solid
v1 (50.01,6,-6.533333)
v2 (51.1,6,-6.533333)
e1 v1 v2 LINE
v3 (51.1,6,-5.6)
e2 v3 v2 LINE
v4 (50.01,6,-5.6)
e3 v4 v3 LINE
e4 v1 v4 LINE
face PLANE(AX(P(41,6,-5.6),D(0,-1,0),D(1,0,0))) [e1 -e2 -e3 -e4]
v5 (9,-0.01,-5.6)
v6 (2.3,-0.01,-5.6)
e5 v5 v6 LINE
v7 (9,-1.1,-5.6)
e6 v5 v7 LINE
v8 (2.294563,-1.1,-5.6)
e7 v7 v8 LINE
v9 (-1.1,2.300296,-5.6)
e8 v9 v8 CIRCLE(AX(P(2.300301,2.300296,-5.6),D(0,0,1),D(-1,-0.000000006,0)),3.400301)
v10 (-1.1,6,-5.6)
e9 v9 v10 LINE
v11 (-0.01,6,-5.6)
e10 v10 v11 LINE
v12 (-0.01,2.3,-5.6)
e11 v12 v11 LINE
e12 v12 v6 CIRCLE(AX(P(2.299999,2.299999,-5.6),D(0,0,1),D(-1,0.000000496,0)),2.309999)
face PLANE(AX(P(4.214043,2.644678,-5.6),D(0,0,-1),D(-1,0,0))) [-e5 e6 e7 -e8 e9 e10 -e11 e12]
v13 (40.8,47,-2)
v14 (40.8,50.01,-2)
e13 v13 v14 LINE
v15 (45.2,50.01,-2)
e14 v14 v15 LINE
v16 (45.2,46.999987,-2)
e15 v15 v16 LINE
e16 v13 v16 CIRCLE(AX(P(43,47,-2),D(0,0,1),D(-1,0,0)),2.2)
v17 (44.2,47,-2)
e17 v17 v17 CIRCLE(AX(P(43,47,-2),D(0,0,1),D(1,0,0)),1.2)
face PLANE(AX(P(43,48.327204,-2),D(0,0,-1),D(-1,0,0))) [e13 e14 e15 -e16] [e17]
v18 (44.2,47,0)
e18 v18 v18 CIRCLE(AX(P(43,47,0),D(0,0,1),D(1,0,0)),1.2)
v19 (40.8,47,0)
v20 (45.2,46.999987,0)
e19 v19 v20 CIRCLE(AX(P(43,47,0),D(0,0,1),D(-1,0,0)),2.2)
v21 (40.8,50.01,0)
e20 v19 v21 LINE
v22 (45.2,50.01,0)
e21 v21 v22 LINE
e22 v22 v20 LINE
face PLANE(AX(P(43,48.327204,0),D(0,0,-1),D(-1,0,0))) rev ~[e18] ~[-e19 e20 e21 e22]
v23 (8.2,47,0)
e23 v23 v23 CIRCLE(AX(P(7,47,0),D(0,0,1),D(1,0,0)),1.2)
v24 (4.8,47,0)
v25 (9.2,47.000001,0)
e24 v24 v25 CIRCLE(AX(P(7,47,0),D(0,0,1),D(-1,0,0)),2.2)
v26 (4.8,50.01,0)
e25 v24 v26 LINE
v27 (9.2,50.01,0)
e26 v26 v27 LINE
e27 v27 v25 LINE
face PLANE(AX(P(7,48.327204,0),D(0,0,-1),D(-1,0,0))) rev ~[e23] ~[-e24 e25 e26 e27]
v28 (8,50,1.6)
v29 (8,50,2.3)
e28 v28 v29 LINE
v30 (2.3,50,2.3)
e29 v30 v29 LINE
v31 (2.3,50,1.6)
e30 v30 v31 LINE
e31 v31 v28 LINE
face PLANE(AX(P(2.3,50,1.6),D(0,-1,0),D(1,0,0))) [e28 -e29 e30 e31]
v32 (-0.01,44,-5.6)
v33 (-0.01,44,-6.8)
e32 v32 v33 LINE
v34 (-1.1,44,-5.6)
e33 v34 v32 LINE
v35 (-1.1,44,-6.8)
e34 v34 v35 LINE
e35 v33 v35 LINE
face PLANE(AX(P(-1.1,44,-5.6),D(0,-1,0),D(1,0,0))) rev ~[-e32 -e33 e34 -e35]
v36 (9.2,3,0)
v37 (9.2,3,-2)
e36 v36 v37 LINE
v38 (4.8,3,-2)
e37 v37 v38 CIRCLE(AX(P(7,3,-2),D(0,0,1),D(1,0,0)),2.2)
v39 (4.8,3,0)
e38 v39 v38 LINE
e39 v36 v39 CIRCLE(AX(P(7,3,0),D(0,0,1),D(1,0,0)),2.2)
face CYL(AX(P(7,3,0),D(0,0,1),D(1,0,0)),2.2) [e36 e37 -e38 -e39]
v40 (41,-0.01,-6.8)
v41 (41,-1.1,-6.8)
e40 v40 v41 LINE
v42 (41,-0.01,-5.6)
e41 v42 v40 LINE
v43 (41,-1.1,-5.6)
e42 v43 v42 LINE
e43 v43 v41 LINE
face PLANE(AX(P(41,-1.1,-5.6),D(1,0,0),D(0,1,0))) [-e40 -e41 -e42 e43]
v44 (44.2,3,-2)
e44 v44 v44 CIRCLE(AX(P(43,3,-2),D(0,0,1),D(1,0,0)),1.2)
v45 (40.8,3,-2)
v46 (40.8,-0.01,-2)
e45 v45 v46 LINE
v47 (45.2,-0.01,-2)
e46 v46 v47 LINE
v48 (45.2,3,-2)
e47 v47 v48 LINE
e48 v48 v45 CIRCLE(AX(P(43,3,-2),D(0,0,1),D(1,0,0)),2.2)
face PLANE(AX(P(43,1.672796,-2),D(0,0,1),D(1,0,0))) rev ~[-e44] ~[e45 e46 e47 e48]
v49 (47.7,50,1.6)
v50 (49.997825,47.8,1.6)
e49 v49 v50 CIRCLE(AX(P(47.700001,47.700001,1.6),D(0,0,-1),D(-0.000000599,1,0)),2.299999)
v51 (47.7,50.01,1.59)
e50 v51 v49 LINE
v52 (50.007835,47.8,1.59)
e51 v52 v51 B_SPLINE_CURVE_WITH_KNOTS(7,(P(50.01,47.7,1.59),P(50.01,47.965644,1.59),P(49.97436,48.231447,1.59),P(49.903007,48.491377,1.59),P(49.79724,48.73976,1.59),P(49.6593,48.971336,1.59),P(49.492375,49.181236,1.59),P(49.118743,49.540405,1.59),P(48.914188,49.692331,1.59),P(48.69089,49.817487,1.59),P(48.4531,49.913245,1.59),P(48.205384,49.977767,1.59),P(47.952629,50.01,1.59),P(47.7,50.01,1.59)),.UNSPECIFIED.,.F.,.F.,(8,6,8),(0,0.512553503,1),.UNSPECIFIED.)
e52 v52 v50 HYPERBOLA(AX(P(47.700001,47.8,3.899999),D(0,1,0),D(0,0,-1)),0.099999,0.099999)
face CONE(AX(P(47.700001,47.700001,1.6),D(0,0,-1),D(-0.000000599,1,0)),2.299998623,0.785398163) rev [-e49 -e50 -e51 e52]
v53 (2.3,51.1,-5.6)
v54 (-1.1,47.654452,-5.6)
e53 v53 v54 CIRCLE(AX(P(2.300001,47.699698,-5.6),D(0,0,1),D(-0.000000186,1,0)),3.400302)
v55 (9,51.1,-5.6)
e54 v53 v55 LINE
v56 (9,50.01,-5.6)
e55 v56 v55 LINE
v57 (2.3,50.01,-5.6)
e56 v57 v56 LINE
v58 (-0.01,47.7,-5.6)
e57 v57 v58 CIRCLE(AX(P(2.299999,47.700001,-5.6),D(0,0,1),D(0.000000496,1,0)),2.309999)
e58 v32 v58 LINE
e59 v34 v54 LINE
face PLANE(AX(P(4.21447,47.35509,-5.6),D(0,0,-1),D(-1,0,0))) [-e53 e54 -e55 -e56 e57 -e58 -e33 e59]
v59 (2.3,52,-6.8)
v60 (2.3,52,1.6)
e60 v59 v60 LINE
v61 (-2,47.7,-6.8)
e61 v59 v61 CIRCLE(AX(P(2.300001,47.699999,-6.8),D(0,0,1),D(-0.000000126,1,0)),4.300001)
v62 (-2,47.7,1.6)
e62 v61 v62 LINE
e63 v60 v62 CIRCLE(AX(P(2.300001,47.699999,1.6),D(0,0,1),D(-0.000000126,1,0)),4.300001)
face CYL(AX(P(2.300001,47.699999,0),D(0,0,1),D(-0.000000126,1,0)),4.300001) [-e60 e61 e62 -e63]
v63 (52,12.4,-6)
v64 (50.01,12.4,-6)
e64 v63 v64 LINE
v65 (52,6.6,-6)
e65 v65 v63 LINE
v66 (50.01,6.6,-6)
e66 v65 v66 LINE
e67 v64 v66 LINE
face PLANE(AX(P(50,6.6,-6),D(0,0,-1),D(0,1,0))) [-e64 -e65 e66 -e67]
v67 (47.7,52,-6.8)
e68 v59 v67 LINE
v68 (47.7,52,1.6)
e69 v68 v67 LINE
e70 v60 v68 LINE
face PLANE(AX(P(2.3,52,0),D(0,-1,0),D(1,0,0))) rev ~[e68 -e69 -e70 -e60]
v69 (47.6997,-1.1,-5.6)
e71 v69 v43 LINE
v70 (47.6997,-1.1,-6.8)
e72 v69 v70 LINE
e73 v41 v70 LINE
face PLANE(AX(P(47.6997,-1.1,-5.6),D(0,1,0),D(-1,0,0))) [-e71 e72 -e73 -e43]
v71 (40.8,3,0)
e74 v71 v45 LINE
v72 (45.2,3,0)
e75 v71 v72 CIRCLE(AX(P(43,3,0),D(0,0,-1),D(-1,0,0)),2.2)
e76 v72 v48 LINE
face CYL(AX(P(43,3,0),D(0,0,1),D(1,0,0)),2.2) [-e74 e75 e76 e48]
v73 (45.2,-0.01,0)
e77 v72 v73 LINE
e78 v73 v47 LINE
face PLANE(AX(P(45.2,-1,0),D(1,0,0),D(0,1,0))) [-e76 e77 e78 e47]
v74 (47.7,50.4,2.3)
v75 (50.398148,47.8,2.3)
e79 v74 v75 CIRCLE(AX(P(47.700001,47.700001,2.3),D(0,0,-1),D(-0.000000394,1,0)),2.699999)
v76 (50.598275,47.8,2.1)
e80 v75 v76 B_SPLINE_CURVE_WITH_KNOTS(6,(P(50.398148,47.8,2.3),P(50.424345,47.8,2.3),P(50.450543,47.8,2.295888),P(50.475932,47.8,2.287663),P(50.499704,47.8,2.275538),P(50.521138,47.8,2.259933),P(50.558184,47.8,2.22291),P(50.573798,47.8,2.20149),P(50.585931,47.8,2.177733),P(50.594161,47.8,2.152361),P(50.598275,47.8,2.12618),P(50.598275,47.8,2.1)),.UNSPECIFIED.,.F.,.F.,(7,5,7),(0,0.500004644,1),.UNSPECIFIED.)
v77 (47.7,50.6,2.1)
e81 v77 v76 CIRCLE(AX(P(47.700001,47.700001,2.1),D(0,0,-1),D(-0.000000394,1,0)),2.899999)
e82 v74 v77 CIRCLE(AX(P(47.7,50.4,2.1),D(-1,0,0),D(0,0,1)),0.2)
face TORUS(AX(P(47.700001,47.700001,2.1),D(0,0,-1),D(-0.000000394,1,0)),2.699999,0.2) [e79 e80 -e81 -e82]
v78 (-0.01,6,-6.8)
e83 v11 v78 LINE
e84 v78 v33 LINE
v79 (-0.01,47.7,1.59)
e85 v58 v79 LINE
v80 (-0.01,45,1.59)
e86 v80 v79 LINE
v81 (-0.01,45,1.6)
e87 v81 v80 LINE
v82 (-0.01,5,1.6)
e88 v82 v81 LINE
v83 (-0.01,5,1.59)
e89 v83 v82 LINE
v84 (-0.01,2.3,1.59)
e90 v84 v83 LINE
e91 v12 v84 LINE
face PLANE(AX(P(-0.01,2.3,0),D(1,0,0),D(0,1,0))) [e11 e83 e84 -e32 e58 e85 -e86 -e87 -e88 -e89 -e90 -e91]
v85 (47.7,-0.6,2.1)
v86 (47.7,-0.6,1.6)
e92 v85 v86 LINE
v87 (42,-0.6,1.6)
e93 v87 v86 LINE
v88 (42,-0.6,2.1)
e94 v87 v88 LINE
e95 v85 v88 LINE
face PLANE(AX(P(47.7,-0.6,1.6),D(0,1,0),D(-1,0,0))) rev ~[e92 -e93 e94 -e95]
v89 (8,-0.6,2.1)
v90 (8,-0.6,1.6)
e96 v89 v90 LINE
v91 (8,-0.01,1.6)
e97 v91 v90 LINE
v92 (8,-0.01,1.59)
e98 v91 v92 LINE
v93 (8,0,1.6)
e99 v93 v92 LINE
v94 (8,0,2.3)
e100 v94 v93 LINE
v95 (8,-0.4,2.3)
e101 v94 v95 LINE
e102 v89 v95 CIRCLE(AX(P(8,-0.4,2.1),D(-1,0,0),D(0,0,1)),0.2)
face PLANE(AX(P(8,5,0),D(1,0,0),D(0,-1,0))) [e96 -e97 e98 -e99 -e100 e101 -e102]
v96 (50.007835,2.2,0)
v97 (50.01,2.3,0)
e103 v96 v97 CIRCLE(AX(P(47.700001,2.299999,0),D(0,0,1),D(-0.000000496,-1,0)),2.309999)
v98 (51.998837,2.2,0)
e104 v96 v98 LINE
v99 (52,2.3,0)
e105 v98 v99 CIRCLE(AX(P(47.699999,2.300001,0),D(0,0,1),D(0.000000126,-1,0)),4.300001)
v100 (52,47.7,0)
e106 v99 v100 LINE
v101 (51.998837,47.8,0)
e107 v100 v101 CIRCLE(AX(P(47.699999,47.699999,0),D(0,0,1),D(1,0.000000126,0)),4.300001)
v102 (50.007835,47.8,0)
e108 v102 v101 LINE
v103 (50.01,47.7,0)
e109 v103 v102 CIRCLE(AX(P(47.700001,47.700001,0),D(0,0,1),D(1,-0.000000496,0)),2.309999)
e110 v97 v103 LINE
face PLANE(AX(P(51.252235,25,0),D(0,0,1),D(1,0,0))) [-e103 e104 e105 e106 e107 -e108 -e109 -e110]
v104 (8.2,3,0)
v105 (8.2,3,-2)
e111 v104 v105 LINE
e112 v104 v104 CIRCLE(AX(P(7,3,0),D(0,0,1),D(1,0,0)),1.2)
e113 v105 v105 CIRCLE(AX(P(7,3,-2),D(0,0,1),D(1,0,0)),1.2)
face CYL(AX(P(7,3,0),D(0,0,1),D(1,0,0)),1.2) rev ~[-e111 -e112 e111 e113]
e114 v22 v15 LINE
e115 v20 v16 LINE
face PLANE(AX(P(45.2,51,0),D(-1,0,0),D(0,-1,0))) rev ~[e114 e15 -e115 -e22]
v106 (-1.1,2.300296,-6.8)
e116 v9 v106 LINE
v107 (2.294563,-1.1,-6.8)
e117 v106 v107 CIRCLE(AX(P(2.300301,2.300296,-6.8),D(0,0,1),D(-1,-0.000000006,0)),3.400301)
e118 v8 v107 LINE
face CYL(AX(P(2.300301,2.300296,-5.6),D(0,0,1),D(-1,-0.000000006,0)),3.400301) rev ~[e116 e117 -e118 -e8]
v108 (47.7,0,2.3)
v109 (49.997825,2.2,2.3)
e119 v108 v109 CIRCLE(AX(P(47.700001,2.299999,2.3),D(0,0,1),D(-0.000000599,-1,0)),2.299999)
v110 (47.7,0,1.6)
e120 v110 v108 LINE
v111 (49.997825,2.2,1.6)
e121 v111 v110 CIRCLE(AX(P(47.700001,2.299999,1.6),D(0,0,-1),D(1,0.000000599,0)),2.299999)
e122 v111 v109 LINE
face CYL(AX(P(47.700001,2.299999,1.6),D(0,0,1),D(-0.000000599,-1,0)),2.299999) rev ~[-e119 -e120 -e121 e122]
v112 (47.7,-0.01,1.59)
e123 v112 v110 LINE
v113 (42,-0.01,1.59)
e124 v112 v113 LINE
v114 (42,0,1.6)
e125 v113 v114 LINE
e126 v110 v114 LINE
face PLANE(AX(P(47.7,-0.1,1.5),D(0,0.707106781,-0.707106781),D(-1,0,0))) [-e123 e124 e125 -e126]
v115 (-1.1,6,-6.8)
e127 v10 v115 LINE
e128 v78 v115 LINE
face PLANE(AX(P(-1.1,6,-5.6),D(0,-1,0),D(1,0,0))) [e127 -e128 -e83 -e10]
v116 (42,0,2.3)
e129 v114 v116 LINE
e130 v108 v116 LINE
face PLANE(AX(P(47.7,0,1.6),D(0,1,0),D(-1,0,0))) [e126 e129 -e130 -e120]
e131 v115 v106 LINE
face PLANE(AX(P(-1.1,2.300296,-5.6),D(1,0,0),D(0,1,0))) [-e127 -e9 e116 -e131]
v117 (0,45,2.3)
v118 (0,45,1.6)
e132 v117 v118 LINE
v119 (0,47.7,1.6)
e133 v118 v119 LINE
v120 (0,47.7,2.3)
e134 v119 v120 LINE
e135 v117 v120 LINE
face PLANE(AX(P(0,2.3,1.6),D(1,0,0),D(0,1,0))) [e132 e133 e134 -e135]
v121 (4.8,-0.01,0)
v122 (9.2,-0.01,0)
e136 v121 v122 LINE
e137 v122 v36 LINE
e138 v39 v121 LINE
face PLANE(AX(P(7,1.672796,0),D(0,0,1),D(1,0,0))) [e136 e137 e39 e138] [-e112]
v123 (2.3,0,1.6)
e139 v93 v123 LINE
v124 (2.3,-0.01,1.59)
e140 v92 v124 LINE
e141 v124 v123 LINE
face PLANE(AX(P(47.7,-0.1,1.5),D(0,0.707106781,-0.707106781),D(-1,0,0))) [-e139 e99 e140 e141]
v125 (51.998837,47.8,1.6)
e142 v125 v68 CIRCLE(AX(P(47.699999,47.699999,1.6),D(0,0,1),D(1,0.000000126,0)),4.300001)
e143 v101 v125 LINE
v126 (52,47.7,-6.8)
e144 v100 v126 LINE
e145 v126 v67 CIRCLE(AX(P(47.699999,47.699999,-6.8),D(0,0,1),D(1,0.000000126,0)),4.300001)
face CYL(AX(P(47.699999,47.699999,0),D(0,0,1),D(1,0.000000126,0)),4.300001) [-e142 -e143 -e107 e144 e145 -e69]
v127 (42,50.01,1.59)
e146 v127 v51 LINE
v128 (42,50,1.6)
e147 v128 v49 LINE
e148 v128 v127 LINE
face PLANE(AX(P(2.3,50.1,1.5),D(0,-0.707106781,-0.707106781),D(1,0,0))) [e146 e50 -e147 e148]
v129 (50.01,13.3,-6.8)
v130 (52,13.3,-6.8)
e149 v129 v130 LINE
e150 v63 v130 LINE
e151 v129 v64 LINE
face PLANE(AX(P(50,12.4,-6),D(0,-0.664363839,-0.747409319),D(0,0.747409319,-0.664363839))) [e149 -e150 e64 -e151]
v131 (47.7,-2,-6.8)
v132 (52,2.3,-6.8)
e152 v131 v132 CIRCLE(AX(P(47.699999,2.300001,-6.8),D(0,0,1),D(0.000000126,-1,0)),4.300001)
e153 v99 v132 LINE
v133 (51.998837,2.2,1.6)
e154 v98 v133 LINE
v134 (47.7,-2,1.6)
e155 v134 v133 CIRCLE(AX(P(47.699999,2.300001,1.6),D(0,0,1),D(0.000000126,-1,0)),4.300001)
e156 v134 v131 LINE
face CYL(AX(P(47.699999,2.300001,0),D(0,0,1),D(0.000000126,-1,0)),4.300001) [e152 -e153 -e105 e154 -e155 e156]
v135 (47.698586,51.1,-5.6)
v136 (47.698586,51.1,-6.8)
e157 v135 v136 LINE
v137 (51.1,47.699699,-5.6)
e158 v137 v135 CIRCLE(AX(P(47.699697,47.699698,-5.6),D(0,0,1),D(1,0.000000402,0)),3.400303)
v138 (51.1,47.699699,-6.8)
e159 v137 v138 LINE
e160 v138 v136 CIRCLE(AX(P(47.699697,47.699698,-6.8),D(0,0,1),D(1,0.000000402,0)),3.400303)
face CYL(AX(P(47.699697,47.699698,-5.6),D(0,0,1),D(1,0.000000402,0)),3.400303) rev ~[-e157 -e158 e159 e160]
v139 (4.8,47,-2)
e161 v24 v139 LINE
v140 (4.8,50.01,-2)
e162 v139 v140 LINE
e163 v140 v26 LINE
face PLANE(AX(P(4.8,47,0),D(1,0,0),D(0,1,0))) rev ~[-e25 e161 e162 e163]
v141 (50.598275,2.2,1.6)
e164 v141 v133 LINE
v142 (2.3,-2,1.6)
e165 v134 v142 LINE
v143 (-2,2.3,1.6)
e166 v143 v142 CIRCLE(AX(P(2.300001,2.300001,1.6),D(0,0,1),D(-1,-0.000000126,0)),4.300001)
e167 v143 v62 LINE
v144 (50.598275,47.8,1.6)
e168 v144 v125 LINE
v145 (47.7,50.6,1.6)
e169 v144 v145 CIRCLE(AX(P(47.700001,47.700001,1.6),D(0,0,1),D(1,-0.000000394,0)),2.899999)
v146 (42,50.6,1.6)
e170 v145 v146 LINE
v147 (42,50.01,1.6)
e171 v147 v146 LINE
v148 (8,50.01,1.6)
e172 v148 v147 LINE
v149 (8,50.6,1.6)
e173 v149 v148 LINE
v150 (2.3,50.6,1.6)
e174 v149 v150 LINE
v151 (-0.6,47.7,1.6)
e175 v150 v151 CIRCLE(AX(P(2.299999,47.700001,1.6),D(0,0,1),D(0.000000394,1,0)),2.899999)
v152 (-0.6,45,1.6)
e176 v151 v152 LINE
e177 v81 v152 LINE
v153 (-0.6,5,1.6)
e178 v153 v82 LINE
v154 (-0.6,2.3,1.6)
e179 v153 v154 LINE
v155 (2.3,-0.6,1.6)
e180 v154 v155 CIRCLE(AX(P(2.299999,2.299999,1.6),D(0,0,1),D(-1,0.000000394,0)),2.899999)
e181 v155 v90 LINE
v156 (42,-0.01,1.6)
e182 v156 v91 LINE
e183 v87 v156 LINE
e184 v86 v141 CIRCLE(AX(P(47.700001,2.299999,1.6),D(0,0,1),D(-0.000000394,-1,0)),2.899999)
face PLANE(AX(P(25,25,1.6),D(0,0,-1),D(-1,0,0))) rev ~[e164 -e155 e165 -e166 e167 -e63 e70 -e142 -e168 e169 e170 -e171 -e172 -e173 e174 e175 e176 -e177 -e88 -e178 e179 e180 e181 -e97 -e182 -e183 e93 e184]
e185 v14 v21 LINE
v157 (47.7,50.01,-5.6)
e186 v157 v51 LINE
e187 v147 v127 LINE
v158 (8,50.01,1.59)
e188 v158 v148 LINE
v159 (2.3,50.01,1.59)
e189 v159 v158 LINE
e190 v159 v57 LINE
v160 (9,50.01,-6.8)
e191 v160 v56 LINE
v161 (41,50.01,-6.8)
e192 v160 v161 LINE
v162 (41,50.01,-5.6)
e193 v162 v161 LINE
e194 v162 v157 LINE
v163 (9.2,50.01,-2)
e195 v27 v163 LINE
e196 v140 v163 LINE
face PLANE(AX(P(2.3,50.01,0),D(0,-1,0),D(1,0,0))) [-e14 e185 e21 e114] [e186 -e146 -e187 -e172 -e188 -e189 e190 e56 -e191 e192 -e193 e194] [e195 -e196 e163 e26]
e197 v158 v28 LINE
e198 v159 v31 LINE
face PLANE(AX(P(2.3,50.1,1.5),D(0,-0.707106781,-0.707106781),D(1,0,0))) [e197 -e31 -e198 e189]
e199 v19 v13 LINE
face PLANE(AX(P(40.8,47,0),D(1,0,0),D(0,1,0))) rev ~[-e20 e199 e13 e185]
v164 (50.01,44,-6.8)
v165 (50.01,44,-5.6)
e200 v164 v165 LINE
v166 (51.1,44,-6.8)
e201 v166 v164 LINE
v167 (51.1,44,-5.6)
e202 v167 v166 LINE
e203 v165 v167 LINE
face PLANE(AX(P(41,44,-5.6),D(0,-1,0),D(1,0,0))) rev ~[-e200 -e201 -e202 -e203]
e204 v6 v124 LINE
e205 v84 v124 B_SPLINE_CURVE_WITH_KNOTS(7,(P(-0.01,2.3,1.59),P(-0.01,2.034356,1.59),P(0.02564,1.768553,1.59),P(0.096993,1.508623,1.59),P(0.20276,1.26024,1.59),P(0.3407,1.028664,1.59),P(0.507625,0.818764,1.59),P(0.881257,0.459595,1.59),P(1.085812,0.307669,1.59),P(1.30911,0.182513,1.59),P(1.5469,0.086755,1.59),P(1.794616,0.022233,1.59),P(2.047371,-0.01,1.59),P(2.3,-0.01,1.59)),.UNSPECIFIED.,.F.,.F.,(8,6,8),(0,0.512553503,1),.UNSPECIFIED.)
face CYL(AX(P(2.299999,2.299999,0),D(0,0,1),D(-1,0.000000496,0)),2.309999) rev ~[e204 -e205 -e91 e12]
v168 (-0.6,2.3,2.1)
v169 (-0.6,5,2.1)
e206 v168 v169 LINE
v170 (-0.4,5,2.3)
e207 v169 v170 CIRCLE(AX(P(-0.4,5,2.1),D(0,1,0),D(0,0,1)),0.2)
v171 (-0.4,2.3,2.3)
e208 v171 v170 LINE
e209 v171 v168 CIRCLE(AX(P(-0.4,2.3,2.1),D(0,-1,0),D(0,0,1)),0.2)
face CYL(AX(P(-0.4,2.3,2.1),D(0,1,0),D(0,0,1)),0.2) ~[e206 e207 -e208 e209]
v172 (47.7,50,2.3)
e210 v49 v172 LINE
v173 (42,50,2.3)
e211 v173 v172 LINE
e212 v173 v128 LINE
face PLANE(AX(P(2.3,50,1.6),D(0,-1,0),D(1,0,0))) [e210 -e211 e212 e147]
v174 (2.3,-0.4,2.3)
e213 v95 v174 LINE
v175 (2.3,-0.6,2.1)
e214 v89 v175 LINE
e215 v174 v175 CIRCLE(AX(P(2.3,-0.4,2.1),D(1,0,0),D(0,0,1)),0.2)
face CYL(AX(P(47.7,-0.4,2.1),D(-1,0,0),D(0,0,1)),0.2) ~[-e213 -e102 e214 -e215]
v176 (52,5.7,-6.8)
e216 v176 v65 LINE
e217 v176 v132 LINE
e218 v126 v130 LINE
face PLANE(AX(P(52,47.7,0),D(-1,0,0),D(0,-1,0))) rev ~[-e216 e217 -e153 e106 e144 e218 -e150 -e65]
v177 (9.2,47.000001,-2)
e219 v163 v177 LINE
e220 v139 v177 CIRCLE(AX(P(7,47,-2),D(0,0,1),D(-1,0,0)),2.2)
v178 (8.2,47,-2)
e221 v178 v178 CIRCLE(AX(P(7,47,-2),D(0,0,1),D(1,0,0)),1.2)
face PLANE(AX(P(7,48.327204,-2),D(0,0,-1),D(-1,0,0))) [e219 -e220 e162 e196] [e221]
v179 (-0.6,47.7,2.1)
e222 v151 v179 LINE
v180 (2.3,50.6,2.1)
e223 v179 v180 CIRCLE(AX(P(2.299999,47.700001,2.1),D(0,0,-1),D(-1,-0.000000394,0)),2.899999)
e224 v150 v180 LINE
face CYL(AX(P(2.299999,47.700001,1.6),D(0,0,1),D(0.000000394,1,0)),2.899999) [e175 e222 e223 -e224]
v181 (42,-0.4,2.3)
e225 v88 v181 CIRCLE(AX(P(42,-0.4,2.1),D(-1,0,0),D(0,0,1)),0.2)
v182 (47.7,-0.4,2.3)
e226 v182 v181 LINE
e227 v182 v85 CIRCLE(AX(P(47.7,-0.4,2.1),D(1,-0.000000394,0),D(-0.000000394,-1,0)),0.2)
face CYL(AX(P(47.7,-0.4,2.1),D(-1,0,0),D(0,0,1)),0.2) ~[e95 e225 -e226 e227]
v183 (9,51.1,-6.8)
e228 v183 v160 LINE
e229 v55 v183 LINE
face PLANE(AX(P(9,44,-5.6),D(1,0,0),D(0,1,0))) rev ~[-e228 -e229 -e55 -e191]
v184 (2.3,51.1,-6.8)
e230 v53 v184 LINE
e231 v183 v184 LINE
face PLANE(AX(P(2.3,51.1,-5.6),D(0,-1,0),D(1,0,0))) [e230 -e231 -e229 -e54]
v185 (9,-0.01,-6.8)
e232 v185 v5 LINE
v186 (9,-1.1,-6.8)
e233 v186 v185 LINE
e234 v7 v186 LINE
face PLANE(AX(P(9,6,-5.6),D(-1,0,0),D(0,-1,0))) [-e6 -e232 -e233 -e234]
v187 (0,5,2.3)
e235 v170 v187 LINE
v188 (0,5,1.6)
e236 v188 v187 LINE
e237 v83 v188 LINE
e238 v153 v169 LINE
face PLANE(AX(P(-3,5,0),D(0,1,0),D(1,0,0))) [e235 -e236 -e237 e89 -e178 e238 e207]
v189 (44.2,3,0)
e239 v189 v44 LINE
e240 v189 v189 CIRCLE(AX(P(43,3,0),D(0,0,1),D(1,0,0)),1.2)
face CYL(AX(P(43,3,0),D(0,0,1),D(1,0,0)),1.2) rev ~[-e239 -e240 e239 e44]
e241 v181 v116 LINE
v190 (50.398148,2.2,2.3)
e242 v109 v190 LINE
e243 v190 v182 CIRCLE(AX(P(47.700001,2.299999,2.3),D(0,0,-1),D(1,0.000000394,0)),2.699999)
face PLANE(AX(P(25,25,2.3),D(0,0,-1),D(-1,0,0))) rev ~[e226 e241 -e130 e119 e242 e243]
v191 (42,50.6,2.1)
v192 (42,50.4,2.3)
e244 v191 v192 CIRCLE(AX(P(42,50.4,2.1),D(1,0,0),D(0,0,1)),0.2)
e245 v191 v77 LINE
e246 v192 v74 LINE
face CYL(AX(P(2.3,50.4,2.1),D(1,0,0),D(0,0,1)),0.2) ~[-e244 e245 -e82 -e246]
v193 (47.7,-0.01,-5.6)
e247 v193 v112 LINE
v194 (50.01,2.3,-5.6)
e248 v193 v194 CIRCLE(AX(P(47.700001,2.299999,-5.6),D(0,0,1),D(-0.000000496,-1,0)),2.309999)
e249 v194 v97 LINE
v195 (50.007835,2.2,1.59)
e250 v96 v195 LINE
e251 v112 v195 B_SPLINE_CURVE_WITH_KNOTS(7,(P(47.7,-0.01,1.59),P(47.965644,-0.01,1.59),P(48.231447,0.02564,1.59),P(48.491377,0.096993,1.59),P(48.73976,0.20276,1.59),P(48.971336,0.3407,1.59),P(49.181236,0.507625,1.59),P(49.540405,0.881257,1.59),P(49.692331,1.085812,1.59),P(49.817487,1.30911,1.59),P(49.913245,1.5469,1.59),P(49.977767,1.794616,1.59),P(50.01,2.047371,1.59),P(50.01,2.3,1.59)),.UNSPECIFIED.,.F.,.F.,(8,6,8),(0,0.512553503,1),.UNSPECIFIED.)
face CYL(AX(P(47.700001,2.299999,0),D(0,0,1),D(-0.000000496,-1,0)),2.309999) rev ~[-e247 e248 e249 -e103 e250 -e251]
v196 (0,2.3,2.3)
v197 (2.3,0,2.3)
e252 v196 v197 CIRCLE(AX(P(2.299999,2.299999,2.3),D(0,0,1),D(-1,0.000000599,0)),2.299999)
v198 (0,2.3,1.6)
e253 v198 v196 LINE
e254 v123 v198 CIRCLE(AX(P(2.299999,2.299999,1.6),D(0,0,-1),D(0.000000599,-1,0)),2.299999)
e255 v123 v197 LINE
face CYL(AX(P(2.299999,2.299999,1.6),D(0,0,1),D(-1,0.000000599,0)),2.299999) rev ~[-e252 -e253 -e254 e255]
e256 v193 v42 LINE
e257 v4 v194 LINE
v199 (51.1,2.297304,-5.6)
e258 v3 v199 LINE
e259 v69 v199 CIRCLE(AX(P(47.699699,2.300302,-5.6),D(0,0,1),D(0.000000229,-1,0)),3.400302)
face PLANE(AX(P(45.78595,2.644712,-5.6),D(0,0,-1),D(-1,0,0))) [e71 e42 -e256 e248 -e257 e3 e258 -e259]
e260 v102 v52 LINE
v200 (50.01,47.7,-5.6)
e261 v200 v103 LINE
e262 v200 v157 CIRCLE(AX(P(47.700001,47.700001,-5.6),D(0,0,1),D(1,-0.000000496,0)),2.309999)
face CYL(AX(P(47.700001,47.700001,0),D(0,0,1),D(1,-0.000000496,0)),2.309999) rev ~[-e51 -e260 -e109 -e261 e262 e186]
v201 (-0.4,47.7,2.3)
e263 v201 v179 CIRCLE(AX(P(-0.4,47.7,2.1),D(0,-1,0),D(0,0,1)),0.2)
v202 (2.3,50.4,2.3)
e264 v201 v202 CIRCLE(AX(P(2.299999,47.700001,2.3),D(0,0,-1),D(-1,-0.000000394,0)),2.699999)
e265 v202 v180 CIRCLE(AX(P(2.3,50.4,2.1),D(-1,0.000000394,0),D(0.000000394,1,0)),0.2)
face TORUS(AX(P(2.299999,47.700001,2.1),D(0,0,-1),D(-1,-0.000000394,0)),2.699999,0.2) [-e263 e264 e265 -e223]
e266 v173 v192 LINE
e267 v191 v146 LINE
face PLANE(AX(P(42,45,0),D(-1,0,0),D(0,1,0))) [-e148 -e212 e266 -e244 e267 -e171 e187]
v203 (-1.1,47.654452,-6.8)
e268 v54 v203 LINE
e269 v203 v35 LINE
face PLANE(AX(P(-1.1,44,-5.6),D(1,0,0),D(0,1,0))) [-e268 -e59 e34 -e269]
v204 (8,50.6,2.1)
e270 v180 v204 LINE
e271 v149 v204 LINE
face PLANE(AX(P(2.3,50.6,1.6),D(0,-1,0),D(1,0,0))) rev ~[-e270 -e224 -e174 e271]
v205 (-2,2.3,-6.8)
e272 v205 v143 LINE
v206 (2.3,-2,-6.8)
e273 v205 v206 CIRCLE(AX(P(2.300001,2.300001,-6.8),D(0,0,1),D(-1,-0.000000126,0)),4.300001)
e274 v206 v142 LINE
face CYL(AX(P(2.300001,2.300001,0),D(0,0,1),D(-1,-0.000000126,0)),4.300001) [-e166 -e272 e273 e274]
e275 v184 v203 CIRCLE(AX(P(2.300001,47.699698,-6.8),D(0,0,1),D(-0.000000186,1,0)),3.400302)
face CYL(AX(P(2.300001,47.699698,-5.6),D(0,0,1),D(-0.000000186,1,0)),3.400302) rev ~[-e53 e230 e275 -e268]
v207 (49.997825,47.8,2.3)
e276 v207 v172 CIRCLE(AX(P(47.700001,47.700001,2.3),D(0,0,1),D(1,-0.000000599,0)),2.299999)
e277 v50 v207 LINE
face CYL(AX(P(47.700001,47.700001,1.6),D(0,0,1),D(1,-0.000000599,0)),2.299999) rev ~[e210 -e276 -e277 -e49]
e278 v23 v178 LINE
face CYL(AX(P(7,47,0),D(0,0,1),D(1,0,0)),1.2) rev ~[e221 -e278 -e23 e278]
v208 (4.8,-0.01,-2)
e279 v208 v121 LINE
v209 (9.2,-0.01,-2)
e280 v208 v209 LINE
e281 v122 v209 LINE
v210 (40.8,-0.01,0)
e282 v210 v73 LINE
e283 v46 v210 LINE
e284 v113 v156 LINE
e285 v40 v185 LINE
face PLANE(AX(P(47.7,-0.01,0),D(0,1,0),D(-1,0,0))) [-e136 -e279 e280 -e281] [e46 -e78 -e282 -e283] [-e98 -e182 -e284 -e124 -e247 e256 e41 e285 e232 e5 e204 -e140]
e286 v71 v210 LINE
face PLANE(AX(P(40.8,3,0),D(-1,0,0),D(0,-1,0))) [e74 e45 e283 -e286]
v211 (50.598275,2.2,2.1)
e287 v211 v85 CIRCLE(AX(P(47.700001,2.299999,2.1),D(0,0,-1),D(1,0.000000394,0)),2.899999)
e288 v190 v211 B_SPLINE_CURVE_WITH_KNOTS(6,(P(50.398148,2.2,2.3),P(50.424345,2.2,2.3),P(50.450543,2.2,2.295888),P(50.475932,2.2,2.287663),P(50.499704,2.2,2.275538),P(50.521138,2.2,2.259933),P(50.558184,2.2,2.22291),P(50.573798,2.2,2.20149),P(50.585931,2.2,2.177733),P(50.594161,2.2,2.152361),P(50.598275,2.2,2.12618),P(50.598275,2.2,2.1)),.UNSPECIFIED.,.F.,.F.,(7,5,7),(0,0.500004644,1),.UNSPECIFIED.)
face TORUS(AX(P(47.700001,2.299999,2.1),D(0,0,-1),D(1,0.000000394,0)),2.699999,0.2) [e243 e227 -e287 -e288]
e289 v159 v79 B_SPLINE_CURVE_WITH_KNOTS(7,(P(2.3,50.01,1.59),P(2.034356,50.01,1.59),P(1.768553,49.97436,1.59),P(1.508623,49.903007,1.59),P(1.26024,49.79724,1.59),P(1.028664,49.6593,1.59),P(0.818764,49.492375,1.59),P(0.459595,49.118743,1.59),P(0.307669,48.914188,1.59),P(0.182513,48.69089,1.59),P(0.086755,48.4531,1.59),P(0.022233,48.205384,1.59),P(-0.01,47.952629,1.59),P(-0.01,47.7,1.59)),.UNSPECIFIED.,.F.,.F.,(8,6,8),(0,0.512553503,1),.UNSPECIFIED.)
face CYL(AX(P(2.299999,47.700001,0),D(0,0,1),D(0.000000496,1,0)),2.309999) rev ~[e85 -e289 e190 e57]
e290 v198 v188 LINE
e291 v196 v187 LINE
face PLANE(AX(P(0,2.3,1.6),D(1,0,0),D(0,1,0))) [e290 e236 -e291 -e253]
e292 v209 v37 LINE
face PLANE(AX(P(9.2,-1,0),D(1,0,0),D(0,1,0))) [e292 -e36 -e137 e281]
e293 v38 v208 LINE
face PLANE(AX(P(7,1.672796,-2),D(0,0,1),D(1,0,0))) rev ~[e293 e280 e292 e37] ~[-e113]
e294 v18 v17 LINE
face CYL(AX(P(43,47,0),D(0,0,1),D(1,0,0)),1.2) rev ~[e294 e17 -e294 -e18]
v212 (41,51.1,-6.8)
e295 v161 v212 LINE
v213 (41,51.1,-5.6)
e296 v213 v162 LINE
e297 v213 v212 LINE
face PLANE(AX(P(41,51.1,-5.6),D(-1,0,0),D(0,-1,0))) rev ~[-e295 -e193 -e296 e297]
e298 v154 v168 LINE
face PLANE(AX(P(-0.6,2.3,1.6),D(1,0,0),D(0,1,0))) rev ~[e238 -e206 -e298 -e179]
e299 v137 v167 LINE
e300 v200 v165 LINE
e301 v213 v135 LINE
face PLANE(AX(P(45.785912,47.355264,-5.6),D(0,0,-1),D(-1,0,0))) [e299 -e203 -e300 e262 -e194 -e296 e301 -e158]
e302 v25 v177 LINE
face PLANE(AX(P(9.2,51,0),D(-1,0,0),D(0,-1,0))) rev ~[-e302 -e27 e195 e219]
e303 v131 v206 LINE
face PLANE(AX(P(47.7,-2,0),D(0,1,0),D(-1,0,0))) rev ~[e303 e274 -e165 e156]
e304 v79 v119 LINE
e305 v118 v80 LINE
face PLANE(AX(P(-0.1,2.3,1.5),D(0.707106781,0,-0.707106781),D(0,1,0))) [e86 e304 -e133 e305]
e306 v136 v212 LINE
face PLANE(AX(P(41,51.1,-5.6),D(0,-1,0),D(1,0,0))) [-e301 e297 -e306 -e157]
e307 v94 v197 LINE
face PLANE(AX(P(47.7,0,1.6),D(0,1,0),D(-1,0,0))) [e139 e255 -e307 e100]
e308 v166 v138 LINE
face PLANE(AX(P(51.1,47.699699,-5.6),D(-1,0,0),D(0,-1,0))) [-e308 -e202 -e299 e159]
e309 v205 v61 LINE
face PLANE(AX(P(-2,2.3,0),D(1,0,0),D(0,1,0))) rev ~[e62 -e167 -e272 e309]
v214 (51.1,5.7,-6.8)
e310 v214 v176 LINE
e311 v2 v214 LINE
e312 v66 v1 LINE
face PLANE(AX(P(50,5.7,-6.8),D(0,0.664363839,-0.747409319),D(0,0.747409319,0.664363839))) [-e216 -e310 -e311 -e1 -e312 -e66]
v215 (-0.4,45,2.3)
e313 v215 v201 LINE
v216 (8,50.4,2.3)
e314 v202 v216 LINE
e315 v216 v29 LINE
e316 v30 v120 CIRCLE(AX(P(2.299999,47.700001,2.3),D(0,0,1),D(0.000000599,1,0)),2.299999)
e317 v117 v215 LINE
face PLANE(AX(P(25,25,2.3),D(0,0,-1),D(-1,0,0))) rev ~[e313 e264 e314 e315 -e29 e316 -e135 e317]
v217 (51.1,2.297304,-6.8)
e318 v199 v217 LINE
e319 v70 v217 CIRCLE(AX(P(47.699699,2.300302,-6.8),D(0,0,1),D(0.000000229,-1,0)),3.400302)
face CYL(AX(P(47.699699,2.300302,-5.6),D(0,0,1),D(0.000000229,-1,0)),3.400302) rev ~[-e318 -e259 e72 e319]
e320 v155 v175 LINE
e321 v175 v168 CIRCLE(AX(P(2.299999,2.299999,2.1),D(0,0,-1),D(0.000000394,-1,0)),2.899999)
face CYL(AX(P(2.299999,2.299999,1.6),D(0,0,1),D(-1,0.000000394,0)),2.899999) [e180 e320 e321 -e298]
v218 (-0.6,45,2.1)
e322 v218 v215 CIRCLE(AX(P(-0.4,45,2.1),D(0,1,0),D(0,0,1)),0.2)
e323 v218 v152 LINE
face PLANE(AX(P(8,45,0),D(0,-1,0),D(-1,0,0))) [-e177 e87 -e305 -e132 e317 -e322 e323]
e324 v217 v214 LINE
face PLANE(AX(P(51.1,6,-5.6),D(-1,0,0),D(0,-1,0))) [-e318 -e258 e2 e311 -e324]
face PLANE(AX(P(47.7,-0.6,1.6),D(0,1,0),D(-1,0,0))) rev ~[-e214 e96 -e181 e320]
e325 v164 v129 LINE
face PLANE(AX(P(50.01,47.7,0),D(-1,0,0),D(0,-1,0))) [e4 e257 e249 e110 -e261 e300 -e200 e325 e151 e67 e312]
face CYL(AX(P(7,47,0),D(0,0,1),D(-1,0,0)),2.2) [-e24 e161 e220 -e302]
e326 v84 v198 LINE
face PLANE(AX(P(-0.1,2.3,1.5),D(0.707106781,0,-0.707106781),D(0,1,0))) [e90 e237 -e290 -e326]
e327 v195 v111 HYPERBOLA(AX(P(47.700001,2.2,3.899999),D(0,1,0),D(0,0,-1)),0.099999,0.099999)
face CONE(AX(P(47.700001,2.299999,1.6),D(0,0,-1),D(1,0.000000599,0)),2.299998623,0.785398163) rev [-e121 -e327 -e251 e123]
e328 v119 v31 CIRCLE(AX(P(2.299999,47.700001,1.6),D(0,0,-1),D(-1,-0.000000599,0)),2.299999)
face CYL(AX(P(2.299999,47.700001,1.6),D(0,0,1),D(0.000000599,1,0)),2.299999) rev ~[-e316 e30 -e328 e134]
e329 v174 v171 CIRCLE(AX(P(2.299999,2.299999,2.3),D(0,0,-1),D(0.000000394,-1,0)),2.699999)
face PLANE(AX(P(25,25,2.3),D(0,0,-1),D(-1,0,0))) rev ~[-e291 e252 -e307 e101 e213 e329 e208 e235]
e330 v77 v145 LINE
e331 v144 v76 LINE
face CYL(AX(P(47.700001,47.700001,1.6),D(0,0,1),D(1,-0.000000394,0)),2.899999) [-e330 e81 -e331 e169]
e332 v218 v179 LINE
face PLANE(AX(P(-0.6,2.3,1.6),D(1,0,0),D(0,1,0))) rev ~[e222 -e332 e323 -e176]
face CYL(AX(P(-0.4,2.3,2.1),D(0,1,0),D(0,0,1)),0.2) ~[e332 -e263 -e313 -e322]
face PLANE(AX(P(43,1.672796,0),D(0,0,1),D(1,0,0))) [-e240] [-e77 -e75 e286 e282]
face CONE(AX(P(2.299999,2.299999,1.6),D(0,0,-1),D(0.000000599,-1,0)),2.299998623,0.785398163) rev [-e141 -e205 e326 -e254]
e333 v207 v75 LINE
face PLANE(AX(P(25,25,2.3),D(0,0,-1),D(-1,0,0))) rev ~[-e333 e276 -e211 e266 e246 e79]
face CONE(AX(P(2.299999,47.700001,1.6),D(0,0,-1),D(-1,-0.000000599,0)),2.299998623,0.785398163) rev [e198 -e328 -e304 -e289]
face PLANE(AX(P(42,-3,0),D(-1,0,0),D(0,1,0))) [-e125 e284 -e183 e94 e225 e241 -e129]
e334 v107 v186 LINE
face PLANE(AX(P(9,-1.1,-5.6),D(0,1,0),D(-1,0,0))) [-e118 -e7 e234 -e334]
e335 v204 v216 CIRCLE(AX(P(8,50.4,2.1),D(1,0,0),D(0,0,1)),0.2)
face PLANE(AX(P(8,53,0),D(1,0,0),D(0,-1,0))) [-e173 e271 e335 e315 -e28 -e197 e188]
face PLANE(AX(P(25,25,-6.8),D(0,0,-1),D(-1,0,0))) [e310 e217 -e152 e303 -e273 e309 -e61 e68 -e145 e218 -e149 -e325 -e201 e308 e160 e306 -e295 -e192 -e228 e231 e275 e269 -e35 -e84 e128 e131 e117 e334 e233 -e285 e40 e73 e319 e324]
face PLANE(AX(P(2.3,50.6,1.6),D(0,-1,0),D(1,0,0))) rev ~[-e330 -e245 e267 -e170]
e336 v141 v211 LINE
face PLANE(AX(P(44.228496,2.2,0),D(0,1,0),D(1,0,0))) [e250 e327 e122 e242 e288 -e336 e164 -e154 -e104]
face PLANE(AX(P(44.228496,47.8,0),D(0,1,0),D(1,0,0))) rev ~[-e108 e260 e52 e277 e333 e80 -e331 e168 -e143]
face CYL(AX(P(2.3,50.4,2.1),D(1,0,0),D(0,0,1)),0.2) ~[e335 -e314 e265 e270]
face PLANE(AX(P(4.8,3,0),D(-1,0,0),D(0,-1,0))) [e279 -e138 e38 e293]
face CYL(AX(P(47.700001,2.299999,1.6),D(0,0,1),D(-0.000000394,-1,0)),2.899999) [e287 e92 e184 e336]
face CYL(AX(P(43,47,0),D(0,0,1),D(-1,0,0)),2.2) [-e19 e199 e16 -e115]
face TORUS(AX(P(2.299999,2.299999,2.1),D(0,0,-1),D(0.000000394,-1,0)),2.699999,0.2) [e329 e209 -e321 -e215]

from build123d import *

# Parameters (mm, degrees)
EXTRUDE006_DEPTH                     = 2
EXTRUDE006_ONTO_SKETCH006_ROLL_ANGLE = 90
EXTRUDE006_PLACEMENT_ANGLE           = 90
SKETCH_W                             = 14.047477
SKETCH_H                             = 45.6
EXTRUDE004_DEPTH                     = 10
SKETCH002_R                          = 1.2
EXTRUDE001_DEPTH                     = 2
EXTRUDE005_DEPTH                     = 10
EXTRUDE003_DEPTH                     = 0.7
EXTRUDE003_DEPTH_BACK                = 0.2
FILLET_R                             = 0.2
CHAMFER_SIZE                         = 0.2
EXTRUDE002_DEPTH                     = 2
EXTRUDE_DEPTH                        = 1.6
EXTRUDE_DEPTH_BACK                   = 6.8


with BuildPart() as extrude006:
    # Sketch006 as drawn → Extrude006 (new, symmetric)
    with BuildSketch(Plane.XY):
        Polygon((-3.8, 0), (-2.9, 0.8), (2.9, 0.8), (3.8, 0), align=None)
    extrude(amount=EXTRUDE006_DEPTH, both=True)


with BuildPart() as extrude006_1:
    # Extrude006 onto Sketch006 roll: moved
    add(extrude006.part.rotate(Axis((0, 0, 0), (1, 0, 0)), EXTRUDE006_ONTO_SKETCH006_ROLL_ANGLE))


with BuildPart() as extrude006_2:
    # Extrude006 onto Sketch006 placement: moved
    add(extrude006_1.part)


with BuildPart() as extrude006_3:
    # Extrude006 placement: moved
    add(extrude006_2.part.moved(Location((50, 9.5, -6.8))).rotate(Axis((50, 9.5, -6.8), (0, 0, 1)), EXTRUDE006_PLACEMENT_ANGLE))


with BuildPart() as extrude004:
    # Sketch → Extrude004 (new body)
    with BuildSketch(Plane.XY):
        with Locations((51.252235, 25)):
            Rectangle(SKETCH_W, SKETCH_H)
    extrude(amount=EXTRUDE004_DEPTH)


with BuildPart() as extrude001:
    # Sketch002 → Extrude001 (new body)
    with BuildSketch(Plane.XY):
        with BuildLine():
            Line((4.8, 47), (4.8, 51))
            Line((4.8, 51), (9.2, 51))
            Line((9.2, 51), (9.2, 47.000001))
            ThreePointArc((4.8, 47), (7, 44.8), (9.2, 47.000001))
        make_face()
        with Locations((7, 47)):
            Circle(SKETCH002_R, mode=Mode.SUBTRACT)
        with BuildLine():
            ThreePointArc((9.2, 3), (7, 5.2), (4.8, 3))
            Line((4.8, 3), (4.8, -1))
            Line((4.8, -1), (9.2, -1))
            Line((9.2, -1), (9.2, 3))
        make_face()
        with Locations((7, 3)):
            Circle(SKETCH002_R, mode=Mode.SUBTRACT)
        with BuildLine():
            Line((40.8, 47), (40.8, 51))
            Line((40.8, 51), (45.2, 51))
            Line((45.2, 51), (45.2, 46.999987))
            ThreePointArc((40.8, 47), (42.999993, 44.8), (45.2, 46.999987))
        make_face()
        with Locations((43, 47)):
            Circle(SKETCH002_R, mode=Mode.SUBTRACT)
        with BuildLine():
            ThreePointArc((45.2, 3), (43, 5.2), (40.8, 3))
            Line((40.8, 3), (40.8, -1))
            Line((40.8, -1), (45.2, -1))
            Line((45.2, -1), (45.2, 3))
        make_face()
        with Locations((43, 3)):
            Circle(SKETCH002_R, mode=Mode.SUBTRACT)
    extrude(amount=-EXTRUDE001_DEPTH)


with BuildPart() as extrude005:
    # Sketch005 → Extrude005 (new body)
    with BuildSketch(Plane.XY):
        Polygon((8, 53), (8, 45), (-3, 45), (-3, 5), (8, 5), (8, -3), (42, -3), (42, 5), (53, 5), (53, 45), (42, 45), (42, 53), align=None)
    extrude(amount=EXTRUDE005_DEPTH)


with BuildPart() as cut003:
    # Sketch004 → Extrude003 (new body, two sides)
    with BuildSketch(Plane.XY) as extrude003_sk:
        with BuildLine():
            Line((2.3, 50.6), (47.7, 50.6))
            ThreePointArc((50.6, 47.7), (49.75061, 49.75061), (47.7, 50.6))
            Line((50.6, 47.7), (50.6, 2.3))
            ThreePointArc((47.7, -0.6), (49.75061, 0.24939), (50.6, 2.3))
            Line((47.7, -0.6), (2.3, -0.6))
            ThreePointArc((-0.6, 2.3), (0.24939, 0.24939), (2.3, -0.6))
            Line((-0.6, 2.3), (-0.6, 47.7))
            ThreePointArc((2.3, 50.6), (0.24939, 49.75061), (-0.6, 47.7))
        make_face()
        with BuildLine():
            Line((2.3, 50), (47.7, 50))
            ThreePointArc((50, 47.7), (49.326346, 49.326346), (47.7, 50))
            Line((50, 47.7), (50, 2.3))
            ThreePointArc((47.7, 0), (49.326346, 0.673654), (50, 2.3))
            Line((47.7, 0), (2.3, 0))
            ThreePointArc((0, 2.3), (0.673654, 0.673654), (2.3, 0))
            Line((0, 2.3), (0, 47.7))
            ThreePointArc((2.3, 50), (0.673654, 49.326346), (0, 47.7))
        make_face(mode=Mode.SUBTRACT)
    extrude(amount=EXTRUDE003_DEPTH)
    extrude(extrude003_sk.sketch, amount=-EXTRUDE003_DEPTH_BACK)


with BuildPart() as cut003_1:
    # Extrude003 placement: moved
    add(cut003.part.moved(Location((0, 0, 1.6))))

    # Fillet
    fillet_edges = [cut003_1.edges().sort_by_distance(p)[0] for p in [
        (-0.6, 25, 2.3),
        (0.24939, 49.75061, 2.3),
        (25, 50.6, 2.3),
        (49.75061, 49.75061, 2.3),
        (50.6, 25, 2.3),
        (49.75061, 0.24939, 2.3),
        (25, -0.6, 2.3),
        (0.24939, 0.24939, 2.3),
    ]]
    fillet(fillet_edges, radius=FILLET_R)

    # Chamfer
    chamfer_edges = [cut003_1.edges().sort_by_distance(p)[0] for p in [
        (0, 25, 1.4),
        (0.673654, 49.326346, 1.4),
        (25, 50, 1.4),
        (49.326346, 49.326346, 1.4),
        (50, 25, 1.4),
        (49.326346, 0.673654, 1.4),
        (25, 0, 1.4),
        (0.673654, 0.673654, 1.4),
    ]]
    chamfer(chamfer_edges, length=CHAMFER_SIZE)

    # Cut003: cut Extrude005
    add(extrude005.part, mode=Mode.SUBTRACT)


with BuildPart() as extrude002:
    # Sketch003 → Extrude002 (new body)
    with BuildSketch(Plane.XY):
        with BuildLine():
            Line((2.3, 51.1), (9, 51.1))
            Line((9, 44), (9, 51.1))
            Line((-1.1, 44), (9, 44))
            Line((-1.1, 44), (-1.1, 47.654452))
            ThreePointArc((2.3, 51.1), (-0.12032, 50.088024), (-1.1, 47.654452))
        make_face()
        with BuildLine():
            Line((51.1, 47.699699), (51.1, 44))
            Line((41, 44), (51.1, 44))
            Line((41, 51.1), (41, 44))
            Line((41, 51.1), (47.698586, 51.1))
            ThreePointArc((51.1, 47.699699), (50.103681, 50.104468), (47.698586, 51.1))
        make_face()
        with BuildLine():
            Line((47.6997, -1.1), (41, -1.1))
            Line((41, -1.1), (41, 6))
            Line((41, 6), (51.1, 6))
            Line((51.1, 6), (51.1, 2.297304))
            ThreePointArc((47.6997, -1.1), (50.103016, -0.105134), (51.1, 2.297304))
        make_face()
        with BuildLine():
            Line((-1.1, 2.300296), (-1.1, 6))
            Line((-1.1, 6), (9, 6))
            Line((9, 6), (9, -1.1))
            Line((9, -1.1), (2.294563, -1.1))
            ThreePointArc((-1.1, 2.300296), (-0.106103, -0.10205), (2.294563, -1.1))
        make_face()
    extrude(amount=-EXTRUDE002_DEPTH)


with BuildPart() as extrude002_1:
    # Extrude002 placement: moved
    add(extrude002.part.moved(Location((0, 0, -5.6))))


with BuildPart() as cut004:
    # Sketch001 → Extrude (new body, two sides)
    with BuildSketch(Plane.XY) as extrude_sk:
        with BuildLine():
            Line((2.3, 52), (47.7, 52))
            ThreePointArc((52, 47.7), (50.740559, 50.740559), (47.7, 52))
            Line((52, 47.7), (52, 2.3))
            ThreePointArc((47.7, -2), (50.740559, -0.740559), (52, 2.3))
            Line((47.7, -2), (2.3, -2))
            ThreePointArc((-2, 2.3), (-0.740559, -0.740559), (2.3, -2))
            Line((-2, 2.3), (-2, 47.7))
            ThreePointArc((2.3, 52), (-0.740559, 50.740559), (-2, 47.7))
        make_face()
        with BuildLine():
            Line((2.3, 50.01), (47.7, 50.01))
            ThreePointArc((50.01, 47.7), (49.333417, 49.333417), (47.7, 50.01))
            Line((50.01, 47.7), (50.01, 2.3))
            ThreePointArc((47.7, -0.01), (49.333417, 0.666583), (50.01, 2.3))
            Line((47.7, -0.01), (2.3, -0.01))
            ThreePointArc((-0.01, 2.3), (0.666583, 0.666583), (2.3, -0.01))
            Line((-0.01, 2.3), (-0.01, 47.7))
            ThreePointArc((2.3, 50.01), (0.666583, 49.333417), (-0.01, 47.7))
        make_face(mode=Mode.SUBTRACT)
    extrude(amount=EXTRUDE_DEPTH)
    extrude(extrude_sk.sketch, amount=-EXTRUDE_DEPTH_BACK)

    # Cut002: cut Extrude002
    add(extrude002_1.part, mode=Mode.SUBTRACT)

    # Fusion001: union Cut003
    add(cut003_1.part)

    # Fusion002: union Extrude001
    add(extrude001.part)

    # Cut: cut Extrude004
    add(extrude004.part, mode=Mode.SUBTRACT)

    # Cut004: cut Extrude006
    add(extrude006_3.part, mode=Mode.SUBTRACT)


solid = cut004.part
